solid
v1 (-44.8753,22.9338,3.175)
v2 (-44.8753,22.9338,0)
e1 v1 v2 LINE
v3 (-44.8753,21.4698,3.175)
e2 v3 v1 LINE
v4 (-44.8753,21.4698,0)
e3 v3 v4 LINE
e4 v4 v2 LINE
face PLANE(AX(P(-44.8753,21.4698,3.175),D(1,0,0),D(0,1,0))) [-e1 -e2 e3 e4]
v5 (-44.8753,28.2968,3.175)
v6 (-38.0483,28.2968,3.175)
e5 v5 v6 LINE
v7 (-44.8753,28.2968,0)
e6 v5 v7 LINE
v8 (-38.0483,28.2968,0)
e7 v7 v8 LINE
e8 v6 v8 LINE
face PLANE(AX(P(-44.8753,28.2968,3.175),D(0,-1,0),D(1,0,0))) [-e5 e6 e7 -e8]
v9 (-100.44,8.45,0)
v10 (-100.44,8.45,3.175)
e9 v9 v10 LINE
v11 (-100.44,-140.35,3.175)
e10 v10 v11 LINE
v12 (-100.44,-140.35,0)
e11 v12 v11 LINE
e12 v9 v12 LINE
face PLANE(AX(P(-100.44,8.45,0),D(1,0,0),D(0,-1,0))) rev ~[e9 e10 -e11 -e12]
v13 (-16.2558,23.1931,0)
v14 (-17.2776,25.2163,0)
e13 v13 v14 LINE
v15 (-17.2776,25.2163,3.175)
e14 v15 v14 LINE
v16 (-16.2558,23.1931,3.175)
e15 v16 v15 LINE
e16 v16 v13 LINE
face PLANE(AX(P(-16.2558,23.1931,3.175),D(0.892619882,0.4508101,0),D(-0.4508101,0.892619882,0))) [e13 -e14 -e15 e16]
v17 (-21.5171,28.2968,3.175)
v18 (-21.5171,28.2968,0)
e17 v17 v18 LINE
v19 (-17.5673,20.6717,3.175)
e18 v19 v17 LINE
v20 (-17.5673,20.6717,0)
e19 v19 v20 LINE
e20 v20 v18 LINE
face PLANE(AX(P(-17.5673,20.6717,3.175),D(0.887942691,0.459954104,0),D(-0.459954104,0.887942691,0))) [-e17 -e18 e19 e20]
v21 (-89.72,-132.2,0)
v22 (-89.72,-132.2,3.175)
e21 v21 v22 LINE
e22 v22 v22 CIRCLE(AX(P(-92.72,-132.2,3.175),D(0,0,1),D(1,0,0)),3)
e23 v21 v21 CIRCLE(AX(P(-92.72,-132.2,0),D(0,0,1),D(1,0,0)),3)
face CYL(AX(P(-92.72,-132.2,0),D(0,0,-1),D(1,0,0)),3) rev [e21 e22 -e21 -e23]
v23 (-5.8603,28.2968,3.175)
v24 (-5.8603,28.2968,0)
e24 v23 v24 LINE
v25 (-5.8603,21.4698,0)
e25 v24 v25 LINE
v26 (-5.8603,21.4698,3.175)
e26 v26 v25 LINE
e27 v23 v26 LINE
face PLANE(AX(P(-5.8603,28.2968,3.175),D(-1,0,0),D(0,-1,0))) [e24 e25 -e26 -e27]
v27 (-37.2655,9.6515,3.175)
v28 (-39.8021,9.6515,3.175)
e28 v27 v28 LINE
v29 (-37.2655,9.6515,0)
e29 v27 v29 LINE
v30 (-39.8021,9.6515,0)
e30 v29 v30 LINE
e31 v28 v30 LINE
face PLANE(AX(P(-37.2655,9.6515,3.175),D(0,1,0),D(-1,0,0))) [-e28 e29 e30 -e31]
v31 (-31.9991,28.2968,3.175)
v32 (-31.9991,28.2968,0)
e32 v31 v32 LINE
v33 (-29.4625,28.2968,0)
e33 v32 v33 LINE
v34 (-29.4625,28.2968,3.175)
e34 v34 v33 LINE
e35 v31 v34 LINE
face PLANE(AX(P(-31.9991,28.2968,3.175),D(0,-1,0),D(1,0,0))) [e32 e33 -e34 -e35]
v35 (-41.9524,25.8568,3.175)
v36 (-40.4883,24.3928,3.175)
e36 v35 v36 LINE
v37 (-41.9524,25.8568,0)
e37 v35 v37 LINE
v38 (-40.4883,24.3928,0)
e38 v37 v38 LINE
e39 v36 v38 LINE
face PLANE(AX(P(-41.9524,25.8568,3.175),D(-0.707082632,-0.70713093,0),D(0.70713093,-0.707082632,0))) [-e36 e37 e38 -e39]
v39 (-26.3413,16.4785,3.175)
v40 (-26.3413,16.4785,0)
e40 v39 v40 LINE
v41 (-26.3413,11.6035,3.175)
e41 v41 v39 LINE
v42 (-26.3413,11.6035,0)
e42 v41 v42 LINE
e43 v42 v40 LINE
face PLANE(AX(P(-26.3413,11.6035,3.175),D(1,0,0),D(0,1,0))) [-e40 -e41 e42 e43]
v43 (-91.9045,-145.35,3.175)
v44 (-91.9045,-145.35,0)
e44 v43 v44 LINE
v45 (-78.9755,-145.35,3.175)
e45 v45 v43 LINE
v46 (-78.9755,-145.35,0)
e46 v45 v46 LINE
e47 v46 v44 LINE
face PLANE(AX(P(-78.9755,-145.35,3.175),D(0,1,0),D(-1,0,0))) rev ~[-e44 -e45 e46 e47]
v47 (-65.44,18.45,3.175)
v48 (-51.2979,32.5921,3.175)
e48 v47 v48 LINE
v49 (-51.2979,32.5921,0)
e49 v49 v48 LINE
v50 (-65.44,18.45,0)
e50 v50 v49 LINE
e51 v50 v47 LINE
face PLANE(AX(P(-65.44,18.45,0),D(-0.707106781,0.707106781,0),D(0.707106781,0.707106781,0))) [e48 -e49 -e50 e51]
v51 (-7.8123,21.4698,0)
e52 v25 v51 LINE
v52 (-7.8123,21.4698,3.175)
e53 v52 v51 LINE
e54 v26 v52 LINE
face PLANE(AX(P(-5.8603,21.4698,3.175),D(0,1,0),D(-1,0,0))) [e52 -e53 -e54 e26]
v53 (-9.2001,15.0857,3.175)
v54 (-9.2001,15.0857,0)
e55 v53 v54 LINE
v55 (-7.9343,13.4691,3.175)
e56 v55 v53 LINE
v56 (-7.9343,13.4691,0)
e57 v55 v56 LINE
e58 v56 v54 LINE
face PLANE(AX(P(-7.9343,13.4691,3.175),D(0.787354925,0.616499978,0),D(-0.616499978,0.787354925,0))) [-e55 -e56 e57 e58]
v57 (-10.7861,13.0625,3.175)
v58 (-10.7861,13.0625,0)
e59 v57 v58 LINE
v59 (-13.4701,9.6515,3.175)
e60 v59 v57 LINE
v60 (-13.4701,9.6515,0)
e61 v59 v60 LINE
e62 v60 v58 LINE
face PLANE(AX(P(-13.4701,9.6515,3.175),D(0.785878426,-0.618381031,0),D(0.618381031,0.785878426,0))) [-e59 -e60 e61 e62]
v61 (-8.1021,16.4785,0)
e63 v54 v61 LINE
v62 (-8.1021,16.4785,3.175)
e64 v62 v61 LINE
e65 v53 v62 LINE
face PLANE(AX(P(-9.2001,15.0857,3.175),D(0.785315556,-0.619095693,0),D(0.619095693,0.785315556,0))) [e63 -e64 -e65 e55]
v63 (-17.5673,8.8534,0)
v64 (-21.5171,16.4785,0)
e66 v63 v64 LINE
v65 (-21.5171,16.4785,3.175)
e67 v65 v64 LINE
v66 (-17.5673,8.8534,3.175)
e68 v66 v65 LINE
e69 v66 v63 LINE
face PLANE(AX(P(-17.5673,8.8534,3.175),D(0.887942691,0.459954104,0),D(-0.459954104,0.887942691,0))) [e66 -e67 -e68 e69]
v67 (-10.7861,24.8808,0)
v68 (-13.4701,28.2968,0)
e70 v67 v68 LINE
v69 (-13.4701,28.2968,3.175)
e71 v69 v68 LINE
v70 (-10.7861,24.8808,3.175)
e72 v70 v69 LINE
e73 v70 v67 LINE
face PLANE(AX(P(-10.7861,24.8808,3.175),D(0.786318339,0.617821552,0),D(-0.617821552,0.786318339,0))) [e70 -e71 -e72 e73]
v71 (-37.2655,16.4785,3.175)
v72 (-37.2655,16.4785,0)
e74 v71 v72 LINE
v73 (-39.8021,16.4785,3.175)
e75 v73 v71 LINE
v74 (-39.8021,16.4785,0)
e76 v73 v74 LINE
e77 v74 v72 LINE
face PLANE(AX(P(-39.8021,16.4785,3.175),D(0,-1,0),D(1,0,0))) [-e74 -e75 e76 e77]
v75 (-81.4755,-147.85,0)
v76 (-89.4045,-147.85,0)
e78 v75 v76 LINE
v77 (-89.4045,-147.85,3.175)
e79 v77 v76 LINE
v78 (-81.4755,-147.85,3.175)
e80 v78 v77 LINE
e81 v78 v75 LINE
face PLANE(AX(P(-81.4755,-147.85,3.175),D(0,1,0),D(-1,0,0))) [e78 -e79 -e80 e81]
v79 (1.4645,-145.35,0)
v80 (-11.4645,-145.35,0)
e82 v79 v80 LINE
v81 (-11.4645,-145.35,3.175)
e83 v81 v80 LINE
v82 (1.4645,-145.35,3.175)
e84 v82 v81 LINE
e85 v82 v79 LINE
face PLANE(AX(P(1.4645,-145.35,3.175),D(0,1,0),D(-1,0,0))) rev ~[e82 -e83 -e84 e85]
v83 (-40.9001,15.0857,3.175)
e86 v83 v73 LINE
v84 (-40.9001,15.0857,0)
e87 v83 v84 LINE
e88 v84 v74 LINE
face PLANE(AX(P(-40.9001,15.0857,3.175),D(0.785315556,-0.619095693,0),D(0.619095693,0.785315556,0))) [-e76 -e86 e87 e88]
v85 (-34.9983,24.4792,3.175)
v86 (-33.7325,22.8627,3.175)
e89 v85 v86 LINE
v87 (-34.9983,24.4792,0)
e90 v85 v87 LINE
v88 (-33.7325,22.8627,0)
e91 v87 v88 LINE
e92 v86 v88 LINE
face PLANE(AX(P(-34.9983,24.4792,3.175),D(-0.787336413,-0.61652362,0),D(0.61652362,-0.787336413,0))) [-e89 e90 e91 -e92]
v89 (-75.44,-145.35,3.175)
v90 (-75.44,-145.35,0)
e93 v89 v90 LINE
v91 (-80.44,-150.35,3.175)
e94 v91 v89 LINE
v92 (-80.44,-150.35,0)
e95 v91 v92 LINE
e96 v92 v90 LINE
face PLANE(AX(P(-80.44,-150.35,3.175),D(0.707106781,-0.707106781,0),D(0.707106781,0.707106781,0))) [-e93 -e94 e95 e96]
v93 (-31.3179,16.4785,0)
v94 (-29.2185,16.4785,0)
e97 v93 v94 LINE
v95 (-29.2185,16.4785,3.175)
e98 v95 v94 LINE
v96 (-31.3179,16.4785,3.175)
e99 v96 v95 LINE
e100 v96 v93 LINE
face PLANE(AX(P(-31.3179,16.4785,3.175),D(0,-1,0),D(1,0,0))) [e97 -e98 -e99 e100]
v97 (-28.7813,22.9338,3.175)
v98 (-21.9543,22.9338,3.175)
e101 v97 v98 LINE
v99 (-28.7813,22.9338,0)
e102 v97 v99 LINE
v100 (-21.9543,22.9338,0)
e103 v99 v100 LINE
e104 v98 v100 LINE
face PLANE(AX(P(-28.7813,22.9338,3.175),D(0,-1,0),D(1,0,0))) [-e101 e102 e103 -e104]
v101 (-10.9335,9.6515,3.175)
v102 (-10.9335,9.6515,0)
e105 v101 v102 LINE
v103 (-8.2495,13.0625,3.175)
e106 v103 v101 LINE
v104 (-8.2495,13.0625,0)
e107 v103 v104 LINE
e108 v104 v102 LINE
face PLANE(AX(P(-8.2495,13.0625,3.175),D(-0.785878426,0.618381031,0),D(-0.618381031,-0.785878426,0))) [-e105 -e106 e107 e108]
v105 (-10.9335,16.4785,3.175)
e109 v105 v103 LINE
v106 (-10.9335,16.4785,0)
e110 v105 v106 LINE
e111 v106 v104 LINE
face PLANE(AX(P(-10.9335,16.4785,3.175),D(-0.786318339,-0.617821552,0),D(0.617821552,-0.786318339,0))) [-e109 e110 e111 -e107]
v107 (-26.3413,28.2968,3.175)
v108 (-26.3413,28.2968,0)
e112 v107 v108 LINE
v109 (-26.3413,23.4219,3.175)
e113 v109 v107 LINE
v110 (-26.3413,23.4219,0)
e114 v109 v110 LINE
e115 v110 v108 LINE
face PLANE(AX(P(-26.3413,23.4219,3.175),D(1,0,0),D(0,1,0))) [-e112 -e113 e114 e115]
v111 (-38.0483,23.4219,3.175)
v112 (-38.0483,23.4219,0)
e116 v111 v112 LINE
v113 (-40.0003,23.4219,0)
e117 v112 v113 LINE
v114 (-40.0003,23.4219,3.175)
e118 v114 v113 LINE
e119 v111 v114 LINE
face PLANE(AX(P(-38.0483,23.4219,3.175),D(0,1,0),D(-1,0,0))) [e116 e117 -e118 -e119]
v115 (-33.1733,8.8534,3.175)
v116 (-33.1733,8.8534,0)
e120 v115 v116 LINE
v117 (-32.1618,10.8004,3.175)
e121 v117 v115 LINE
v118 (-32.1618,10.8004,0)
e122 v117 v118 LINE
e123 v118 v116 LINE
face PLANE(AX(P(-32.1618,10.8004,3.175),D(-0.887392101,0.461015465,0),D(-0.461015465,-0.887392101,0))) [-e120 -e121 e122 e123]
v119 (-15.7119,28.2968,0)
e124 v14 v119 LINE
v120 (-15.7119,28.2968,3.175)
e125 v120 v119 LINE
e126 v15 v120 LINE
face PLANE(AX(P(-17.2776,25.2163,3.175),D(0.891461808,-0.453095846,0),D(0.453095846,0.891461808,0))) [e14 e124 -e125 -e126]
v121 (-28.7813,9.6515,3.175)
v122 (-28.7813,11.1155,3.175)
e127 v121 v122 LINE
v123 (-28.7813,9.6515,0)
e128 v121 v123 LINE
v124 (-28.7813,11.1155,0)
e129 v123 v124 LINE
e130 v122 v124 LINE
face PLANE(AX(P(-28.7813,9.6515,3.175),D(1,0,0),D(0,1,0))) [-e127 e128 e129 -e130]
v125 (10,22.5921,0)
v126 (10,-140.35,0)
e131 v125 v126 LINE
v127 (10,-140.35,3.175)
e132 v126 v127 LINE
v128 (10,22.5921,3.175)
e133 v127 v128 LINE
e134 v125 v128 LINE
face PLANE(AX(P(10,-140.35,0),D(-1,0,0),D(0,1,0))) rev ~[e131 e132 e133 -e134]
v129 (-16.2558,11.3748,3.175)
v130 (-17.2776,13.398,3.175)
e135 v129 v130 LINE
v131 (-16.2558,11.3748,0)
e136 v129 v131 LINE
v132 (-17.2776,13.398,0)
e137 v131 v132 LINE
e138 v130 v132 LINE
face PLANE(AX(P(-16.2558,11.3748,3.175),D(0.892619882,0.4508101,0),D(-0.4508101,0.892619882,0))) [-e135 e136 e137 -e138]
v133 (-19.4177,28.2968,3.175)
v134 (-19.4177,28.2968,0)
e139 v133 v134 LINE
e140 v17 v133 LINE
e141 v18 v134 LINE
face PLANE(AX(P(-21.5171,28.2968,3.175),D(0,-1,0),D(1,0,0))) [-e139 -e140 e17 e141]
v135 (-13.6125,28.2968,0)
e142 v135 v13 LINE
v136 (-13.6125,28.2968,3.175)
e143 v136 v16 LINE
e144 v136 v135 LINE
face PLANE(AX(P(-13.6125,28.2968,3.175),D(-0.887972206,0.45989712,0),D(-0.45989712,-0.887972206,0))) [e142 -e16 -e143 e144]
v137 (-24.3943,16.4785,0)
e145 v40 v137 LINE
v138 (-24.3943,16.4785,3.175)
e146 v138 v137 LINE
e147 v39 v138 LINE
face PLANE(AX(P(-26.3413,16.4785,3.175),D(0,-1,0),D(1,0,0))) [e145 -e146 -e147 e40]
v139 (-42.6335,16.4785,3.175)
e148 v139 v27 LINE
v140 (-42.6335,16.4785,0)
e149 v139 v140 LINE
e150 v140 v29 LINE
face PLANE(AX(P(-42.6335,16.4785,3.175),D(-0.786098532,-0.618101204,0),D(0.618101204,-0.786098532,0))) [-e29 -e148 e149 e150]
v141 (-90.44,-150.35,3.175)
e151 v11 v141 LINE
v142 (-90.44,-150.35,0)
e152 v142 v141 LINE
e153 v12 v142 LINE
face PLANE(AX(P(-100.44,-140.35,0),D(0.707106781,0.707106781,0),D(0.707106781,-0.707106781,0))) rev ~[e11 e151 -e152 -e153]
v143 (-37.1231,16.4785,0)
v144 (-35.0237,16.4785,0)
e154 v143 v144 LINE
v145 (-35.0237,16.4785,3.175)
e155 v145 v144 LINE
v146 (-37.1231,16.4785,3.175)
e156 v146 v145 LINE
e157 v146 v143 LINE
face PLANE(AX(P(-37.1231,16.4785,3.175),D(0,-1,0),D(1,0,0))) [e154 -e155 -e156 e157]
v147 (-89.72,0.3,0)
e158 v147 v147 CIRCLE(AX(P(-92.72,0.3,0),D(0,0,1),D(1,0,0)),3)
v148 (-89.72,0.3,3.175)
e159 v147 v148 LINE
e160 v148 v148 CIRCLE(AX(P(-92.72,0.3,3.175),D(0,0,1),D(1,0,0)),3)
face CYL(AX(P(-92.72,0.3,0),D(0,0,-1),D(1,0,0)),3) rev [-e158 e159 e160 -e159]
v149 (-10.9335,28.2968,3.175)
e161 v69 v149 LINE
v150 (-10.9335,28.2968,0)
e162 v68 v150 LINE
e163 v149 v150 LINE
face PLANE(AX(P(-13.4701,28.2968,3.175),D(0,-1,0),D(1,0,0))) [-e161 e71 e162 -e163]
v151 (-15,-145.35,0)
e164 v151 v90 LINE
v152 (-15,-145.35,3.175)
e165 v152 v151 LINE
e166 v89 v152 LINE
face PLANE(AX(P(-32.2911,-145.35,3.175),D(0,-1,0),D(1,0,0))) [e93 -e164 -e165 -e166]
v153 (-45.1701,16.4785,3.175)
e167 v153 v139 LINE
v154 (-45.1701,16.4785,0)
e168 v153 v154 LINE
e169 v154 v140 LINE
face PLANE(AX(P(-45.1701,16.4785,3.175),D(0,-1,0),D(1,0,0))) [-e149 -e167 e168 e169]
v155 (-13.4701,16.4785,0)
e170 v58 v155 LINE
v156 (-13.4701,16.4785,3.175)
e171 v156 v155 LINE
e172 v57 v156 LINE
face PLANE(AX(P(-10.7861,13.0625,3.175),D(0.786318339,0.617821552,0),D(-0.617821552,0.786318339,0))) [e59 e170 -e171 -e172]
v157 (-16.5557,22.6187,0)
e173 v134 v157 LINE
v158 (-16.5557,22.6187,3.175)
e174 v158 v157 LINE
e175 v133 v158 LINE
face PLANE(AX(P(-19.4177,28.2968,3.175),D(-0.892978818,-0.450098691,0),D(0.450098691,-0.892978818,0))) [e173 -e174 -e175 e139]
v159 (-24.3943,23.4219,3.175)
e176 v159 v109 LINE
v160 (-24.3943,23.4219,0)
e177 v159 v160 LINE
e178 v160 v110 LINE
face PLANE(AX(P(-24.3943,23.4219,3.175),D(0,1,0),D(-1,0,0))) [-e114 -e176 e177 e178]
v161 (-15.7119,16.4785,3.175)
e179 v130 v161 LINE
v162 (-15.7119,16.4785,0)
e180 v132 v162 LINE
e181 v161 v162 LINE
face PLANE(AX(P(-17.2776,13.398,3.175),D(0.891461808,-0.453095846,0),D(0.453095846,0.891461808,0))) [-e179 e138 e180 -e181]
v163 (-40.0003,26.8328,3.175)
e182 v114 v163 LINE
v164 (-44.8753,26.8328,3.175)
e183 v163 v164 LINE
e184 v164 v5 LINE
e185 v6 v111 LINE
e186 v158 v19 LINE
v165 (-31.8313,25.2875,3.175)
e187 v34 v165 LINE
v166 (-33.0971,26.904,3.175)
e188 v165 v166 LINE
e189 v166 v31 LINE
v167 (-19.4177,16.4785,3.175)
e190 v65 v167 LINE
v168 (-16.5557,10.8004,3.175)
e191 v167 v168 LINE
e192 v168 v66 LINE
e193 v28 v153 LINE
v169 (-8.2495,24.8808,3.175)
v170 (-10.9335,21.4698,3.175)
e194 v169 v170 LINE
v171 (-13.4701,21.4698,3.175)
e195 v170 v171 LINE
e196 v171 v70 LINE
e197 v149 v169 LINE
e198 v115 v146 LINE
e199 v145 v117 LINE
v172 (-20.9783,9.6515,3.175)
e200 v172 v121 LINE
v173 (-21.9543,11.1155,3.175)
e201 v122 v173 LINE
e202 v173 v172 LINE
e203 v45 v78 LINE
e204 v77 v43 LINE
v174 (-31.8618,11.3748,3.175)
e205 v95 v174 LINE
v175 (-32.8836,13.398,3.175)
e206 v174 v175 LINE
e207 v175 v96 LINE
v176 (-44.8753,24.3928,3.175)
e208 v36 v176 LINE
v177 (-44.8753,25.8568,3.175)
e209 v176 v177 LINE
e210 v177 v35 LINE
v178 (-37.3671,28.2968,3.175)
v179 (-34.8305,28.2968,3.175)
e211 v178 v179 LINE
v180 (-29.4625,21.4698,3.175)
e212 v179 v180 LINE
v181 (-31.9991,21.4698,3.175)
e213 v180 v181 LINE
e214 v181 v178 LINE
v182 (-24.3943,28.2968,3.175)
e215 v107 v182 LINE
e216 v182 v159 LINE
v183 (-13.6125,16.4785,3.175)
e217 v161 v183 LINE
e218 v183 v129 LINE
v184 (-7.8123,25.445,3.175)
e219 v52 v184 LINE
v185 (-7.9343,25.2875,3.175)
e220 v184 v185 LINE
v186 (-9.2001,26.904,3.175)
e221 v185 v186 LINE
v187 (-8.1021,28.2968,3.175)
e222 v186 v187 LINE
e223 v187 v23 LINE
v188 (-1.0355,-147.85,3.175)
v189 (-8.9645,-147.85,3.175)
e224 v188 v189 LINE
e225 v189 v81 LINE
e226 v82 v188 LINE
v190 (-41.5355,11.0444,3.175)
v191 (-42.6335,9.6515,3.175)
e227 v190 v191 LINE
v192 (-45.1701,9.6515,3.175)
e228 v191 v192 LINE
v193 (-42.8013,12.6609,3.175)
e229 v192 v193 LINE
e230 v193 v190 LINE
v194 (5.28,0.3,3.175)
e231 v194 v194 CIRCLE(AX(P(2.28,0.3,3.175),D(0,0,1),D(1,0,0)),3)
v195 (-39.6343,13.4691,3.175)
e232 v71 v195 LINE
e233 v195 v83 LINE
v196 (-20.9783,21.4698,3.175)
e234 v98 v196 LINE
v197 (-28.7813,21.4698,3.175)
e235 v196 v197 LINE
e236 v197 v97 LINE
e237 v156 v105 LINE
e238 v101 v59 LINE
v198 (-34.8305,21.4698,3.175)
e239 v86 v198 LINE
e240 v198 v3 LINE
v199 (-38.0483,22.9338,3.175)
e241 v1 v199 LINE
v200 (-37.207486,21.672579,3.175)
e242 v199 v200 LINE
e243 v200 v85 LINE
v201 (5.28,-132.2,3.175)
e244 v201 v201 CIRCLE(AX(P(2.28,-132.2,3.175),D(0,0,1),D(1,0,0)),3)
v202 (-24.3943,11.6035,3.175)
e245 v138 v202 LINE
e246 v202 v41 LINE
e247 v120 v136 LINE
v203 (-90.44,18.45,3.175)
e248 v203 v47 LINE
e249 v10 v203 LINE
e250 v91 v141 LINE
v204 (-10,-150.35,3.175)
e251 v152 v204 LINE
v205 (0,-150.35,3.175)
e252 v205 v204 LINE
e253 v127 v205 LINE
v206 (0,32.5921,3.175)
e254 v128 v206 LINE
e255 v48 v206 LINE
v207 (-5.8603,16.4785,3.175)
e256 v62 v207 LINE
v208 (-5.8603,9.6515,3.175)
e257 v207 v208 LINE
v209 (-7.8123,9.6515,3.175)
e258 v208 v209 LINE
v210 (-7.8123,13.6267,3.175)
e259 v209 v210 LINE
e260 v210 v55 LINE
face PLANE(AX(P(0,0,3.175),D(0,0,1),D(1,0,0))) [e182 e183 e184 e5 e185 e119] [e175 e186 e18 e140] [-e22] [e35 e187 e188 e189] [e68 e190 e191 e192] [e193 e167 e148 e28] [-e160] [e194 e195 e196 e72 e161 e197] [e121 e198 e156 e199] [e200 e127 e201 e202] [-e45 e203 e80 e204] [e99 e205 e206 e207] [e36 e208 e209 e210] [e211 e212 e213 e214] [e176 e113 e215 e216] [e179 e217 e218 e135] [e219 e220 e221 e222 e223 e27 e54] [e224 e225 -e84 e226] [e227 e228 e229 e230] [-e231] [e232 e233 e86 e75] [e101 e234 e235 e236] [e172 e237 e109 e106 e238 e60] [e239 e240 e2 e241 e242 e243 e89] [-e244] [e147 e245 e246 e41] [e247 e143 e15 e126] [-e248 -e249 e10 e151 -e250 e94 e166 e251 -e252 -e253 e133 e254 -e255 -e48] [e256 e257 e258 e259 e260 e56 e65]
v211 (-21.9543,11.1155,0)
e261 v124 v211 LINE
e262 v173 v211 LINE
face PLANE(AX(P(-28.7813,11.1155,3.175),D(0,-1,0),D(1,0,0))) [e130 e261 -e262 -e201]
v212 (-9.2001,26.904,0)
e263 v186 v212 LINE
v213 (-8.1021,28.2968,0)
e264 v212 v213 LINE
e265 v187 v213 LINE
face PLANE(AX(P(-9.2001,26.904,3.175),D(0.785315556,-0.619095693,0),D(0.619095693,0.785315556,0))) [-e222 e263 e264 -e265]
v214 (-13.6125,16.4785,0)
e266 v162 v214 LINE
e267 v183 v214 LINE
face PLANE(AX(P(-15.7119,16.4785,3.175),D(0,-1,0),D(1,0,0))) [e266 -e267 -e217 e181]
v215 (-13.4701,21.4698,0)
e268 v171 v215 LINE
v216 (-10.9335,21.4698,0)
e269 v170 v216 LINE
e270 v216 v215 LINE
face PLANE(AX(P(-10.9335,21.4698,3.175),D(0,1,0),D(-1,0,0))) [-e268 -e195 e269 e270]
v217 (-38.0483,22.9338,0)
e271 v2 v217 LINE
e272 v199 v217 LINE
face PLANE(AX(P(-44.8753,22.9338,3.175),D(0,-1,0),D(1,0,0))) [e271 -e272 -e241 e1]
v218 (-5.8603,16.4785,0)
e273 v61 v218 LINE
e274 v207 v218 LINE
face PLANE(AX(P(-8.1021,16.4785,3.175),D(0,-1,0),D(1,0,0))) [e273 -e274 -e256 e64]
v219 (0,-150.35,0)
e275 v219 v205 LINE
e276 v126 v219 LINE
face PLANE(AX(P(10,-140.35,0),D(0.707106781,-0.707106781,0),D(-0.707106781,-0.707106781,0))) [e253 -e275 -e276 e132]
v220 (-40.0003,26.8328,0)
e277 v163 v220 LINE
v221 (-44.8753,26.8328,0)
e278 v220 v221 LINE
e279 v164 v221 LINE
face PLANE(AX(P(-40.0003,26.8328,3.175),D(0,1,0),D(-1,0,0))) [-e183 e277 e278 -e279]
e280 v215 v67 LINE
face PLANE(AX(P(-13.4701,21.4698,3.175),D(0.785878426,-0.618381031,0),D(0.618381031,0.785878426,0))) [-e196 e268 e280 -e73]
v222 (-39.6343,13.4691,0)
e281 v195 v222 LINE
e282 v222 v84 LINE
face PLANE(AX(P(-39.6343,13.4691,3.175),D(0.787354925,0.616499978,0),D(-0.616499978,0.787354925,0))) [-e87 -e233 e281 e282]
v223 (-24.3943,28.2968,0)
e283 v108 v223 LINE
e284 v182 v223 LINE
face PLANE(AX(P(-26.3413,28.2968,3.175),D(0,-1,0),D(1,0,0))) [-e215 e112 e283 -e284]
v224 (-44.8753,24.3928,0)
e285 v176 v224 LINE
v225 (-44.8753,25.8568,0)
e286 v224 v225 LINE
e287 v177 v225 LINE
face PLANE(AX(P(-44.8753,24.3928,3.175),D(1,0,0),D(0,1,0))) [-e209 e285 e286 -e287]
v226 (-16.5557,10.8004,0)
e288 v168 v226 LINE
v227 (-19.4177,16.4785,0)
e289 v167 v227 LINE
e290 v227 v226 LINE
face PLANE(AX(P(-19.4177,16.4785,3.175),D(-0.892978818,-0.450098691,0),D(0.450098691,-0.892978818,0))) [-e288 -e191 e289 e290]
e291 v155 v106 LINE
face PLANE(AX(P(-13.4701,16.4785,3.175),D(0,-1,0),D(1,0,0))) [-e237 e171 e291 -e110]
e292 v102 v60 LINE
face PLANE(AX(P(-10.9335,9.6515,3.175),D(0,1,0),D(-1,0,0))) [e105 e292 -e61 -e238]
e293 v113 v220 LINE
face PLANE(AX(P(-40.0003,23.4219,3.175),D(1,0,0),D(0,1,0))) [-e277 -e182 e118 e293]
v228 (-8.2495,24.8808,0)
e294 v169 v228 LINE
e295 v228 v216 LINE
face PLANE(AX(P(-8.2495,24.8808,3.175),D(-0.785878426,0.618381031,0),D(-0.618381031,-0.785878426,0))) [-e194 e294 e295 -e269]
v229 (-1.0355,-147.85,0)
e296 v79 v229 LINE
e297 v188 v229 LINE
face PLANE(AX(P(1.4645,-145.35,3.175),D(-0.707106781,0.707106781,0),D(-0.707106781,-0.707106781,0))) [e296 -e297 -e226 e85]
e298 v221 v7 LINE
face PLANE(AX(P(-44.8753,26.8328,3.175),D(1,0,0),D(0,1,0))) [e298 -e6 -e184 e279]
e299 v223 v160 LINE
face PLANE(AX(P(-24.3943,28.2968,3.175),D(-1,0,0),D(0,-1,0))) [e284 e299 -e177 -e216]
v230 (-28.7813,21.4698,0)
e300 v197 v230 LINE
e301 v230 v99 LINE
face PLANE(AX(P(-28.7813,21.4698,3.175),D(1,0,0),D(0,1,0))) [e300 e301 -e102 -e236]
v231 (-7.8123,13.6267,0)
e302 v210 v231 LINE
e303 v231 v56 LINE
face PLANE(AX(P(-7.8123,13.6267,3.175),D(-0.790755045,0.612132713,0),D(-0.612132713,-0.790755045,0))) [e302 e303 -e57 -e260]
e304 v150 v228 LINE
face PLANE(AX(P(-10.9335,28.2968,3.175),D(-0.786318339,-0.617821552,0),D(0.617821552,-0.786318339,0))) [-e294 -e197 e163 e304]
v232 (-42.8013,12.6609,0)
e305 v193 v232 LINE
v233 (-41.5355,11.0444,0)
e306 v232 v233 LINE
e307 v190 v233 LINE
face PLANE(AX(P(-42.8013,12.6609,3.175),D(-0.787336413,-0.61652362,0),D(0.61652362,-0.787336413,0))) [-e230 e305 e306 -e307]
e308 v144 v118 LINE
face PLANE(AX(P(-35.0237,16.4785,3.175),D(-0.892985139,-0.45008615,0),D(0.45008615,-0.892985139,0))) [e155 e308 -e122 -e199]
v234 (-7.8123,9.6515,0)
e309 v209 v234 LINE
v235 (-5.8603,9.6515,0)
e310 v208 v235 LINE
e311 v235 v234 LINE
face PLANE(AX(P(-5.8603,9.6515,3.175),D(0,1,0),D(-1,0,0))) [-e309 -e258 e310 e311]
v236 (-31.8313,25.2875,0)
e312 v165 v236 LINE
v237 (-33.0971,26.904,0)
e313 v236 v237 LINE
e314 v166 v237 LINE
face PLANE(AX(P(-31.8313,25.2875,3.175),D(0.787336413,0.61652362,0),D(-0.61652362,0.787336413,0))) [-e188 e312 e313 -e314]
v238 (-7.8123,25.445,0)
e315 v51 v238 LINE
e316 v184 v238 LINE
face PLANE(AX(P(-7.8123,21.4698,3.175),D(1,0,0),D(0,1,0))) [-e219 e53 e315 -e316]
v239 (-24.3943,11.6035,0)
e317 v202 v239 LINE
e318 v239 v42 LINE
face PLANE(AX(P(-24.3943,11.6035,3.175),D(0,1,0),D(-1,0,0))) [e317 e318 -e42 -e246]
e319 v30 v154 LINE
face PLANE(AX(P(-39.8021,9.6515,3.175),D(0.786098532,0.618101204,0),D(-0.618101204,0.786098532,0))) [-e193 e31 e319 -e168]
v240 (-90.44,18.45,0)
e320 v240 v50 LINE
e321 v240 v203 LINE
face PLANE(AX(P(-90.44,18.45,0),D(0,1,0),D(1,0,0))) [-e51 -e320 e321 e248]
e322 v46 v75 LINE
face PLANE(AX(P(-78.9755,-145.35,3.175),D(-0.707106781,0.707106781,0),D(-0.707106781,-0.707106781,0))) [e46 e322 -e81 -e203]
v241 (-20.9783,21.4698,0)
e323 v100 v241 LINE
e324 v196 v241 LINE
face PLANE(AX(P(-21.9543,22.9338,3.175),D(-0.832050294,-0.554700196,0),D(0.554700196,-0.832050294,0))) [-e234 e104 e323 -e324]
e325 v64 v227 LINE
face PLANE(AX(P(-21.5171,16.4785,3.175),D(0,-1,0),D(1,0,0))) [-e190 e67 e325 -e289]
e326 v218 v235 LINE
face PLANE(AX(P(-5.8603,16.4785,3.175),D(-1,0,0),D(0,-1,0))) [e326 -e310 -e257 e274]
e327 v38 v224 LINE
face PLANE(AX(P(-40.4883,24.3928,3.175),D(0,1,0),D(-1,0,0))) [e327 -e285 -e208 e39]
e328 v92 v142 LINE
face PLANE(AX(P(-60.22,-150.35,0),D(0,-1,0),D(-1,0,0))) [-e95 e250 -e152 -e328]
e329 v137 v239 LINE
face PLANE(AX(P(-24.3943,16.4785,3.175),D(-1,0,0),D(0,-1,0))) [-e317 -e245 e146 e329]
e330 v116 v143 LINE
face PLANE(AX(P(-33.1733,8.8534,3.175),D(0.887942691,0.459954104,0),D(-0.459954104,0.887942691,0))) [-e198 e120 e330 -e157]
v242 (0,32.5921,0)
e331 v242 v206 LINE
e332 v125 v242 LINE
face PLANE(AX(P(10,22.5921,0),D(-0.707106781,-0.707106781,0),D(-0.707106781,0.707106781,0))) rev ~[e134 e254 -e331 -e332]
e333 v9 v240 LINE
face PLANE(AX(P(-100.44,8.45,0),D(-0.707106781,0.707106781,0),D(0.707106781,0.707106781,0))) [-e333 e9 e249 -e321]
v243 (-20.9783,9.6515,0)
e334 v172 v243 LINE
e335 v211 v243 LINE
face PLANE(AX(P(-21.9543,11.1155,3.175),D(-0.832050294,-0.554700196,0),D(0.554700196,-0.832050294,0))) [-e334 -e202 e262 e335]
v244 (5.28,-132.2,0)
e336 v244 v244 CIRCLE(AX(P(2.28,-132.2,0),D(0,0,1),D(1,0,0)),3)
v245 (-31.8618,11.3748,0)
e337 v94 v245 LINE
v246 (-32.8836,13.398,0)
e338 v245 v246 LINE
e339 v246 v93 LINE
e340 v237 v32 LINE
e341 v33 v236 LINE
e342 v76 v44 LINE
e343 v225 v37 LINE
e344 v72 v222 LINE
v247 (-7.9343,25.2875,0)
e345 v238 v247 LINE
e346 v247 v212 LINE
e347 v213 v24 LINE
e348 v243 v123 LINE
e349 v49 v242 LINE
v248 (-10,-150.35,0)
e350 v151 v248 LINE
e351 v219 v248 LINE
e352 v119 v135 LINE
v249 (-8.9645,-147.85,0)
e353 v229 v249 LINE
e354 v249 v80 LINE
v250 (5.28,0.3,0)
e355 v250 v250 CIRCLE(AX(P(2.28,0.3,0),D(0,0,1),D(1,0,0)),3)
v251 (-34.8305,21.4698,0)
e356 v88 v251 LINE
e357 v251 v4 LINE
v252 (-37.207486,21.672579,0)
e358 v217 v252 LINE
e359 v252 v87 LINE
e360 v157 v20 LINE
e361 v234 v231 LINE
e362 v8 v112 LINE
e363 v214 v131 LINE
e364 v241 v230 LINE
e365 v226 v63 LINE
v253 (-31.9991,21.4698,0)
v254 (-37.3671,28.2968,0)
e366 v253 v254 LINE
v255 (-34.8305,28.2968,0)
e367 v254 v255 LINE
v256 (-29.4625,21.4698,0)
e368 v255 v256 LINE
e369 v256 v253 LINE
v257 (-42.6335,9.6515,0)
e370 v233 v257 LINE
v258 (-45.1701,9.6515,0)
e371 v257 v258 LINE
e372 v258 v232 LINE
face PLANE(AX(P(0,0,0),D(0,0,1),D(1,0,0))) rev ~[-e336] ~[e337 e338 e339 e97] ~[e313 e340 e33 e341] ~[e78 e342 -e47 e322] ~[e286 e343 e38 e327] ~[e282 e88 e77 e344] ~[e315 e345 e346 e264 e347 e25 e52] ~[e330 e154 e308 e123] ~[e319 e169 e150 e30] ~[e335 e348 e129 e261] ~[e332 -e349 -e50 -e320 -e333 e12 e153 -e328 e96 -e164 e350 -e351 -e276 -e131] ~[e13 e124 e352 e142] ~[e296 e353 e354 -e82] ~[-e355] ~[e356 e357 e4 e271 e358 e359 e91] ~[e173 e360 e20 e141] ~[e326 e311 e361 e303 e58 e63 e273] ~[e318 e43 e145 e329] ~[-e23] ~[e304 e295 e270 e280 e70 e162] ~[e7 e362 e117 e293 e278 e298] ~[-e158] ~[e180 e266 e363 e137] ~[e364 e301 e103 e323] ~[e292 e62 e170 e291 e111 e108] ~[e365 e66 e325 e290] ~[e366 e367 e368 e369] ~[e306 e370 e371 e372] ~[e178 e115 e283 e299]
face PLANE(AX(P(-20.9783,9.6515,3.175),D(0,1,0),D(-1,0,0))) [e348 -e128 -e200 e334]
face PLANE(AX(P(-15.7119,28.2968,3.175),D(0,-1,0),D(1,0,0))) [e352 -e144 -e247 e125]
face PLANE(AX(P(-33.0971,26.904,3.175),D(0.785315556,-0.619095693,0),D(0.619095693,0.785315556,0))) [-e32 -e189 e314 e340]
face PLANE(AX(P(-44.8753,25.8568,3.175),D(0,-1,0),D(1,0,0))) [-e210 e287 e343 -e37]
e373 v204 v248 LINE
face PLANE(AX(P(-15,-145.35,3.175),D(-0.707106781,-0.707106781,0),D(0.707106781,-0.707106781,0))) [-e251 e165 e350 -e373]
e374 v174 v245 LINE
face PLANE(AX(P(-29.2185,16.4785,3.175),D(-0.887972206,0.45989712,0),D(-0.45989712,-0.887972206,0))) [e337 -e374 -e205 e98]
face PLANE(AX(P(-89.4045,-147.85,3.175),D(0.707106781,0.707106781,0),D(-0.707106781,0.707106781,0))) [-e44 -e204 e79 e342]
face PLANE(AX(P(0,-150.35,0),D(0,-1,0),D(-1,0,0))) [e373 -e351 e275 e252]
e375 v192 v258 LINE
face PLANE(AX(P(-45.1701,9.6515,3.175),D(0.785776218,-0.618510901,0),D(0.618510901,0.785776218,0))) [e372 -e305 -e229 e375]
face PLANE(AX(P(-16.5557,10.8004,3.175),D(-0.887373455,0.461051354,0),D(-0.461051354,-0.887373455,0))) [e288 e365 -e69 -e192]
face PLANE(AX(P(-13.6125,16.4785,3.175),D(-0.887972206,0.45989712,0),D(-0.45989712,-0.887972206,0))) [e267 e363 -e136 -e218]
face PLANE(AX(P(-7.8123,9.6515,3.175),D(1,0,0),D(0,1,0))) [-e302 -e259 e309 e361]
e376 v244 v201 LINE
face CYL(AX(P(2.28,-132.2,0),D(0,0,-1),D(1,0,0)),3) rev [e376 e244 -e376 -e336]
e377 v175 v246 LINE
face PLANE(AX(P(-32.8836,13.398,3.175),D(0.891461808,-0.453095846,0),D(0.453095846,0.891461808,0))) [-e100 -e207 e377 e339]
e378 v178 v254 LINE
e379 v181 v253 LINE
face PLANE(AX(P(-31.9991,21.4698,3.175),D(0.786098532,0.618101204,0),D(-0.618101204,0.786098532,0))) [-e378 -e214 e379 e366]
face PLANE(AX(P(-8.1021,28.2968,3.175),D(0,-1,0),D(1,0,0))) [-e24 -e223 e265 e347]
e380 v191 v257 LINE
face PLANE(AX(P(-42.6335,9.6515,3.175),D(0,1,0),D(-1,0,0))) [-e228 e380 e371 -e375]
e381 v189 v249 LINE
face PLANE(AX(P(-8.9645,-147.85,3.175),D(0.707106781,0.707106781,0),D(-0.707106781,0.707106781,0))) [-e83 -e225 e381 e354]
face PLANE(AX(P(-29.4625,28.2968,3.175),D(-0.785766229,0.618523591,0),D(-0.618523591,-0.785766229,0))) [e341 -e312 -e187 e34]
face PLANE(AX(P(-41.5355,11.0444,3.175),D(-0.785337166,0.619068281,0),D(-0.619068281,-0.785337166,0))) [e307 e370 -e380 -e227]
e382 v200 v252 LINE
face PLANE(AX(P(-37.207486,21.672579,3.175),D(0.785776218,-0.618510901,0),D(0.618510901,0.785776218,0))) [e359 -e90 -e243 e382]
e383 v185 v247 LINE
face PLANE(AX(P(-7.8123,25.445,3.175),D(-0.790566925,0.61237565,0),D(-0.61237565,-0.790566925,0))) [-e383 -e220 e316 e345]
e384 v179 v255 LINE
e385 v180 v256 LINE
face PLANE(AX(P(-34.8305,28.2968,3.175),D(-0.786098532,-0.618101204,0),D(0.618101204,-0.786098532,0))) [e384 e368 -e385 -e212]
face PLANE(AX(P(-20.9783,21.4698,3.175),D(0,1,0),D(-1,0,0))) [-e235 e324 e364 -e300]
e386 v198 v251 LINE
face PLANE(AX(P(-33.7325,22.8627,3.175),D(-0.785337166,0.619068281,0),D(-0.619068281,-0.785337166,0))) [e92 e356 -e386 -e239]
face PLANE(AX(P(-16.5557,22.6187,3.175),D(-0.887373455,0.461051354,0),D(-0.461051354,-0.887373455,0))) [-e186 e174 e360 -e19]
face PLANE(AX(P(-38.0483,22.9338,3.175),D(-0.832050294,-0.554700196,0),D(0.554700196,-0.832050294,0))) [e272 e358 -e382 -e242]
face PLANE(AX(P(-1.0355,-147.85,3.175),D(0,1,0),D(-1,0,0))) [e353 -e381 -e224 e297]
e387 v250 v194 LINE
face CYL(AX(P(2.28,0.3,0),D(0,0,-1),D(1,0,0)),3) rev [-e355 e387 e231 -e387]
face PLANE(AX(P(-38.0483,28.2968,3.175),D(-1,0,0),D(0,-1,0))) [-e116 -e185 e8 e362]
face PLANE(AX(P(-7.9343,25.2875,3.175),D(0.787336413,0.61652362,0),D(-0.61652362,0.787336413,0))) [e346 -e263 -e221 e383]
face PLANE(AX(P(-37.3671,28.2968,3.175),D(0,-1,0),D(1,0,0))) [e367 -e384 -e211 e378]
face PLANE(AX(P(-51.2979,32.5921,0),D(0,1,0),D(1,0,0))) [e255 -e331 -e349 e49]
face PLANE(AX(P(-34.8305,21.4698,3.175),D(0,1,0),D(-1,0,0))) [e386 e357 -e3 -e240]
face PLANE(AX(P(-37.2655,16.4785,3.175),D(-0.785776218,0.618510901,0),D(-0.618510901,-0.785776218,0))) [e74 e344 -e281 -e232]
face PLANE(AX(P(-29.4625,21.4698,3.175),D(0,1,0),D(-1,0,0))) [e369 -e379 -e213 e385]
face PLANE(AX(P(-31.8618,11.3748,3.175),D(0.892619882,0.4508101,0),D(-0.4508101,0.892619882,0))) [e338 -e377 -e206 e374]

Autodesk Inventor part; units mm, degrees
ref_plane "YZ Plane" through (0, 0, 0) normal (1, 0, 0) x (0, 1, 0)
ref_plane "XZ Plane" through (0, 0, 0) normal (0, 1, 0) x (-1, 0, 0)
ref_plane "XY Plane" through (0, 0, 0) normal (0, 0, 1) x (1, 0, 0)
sketch "Sketch1" plane through (0, 0, 0) normal (0, 0, 1) x (1, 0, 0)
  line L0 (5, -135.35) -> (-95.44, -135.35) construction
  line L1 (-95.44, -135.35) -> (-95.44, 3.45) construction
  line L2 (-95.44, 3.45) -> (5, 3.45) construction
  line L3 (5, 3.45) -> (5, -135.35) construction
  line L4 (-100.44, -140.35) -> (10, -140.35)
  line L5 (10, -140.35) -> (10, 8.45)
  line L6 (10, 8.45) -> (-100.44, 8.45)
  line L7 (-100.44, 8.45) -> (-100.44, -140.35)
  circle A0 centre (2.28, -132.2) radius 1.5 projected
  circle A1 centre (-92.72, -132.2) radius 1.5 projected
  circle A2 centre (-92.72, 0.3) radius 1.5 projected
  circle A3 centre (2.28, 0.3) radius 1.5 projected
  circle A4 centre (2.28, -132.2) radius 3
  circle A5 centre (-92.72, -132.2) radius 3
  circle A6 centre (2.28, 0.3) radius 3
  circle A7 centre (-92.72, 0.3) radius 3
  line L8 (-100.44, -140.35) -> (-90.44, -150.35)
  line L9 (-100.44, -140.35) -> (-86.2979, -140.35) construction
  line L10 (-45.22, -140.35) -> (-45.22, -155.35) construction
  line L11 (-90.44, -150.35) -> (10, -150.35) construction
  line L12 (10, -140.35) -> (0, -150.35)
  line L13 (-55.22, -145.35) -> (-35.22, -145.35) construction
  line L14 (-35.22, -145.35) -> (-35.22, -155.35) construction
  line L15 (-35.22, -155.35) -> (-55.22, -155.35)
  line L16 (-55.22, -155.35) -> (-55.22, -145.35) construction
  line L17 (-55.22, -145.35) -> (-35.22, -155.35) construction
  line L18 (-35.22, -145.35) -> (-55.22, -155.35) construction
  line L19 (-55.22, -155.35) -> (-60.22, -150.35)
  line L20 (-35.22, -155.35) -> (-30.22, -150.35)
  line L21 (0, -150.35) -> (-30.22, -150.35)
  line L22 (-60.22, -150.35) -> (-90.44, -150.35)
  line L23 (-96.9045, -136.8145) -> (-88.3689, -145.35) construction
  line L24 (-88.3689, -145.35) -> (-58.1489, -145.35) construction
  line L25 (-58.1489, -145.35) -> (-53.1489, -150.35)
  line L26 (-53.1489, -150.35) -> (-37.2911, -150.35)
  line L27 (-37.2911, -150.35) -> (-32.2911, -145.35)
  line L28 (-32.2911, -145.35) -> (0, -145.35) construction
  line L29 (-32.2911, -145.35) -> (-58.1489, -145.35)
  line L30 (-100.44, 8.45) -> (-90.44, 18.45)
  line L31 (10, 8.45) -> (10, 22.5921)
  line L32 (-90.44, 18.45) -> (-65.44, 18.45)
  line L33 (-65.44, 18.45) -> (-51.2979, 32.5921)
  line L34 (-51.2979, 32.5921) -> (0, 32.5921)
  line L35 (10, 22.5921) -> (0, 32.5921)
  point P0 (0, 0)
  point P1 (-45.22, -150.35)
  point P2 (10, 32.5921)
  dimension "d0" = 5
  dimension "d3" = 6
  dimension "d4" = 6
  dimension "d5" = 6
  dimension "d6" = 6
  dimension "d7" = 14.1421
  dimension "d8" = 45
  dimension "d9" = 15
  dimension "d10" = 45
  dimension "d11" = 20
  dimension "d12" = 10
  dimension "d13" = 45
  dimension "d14" = 45
  dimension "d15" = 5
  dimension "d16" = 45
  dimension "d17" = 10
  dimension "d18" = 25
  dimension "d20" = 135
  dimension "d21" = 14.1421
  dimension "d22" = 10
  dimension "d23" = 10
extrude "Extrusion1" add sketch "Sketch1" along normal blind 3.175 contours L7 L6 L5 L4 | L4 L12 L21 L20 L15 L19 L22 L8 | L30 L32 L33 L34 L35 L31 L6
sketch "Sketch3" plane through (0, 0, 3.175) normal (0, 0, 1) x (1, 0, 0)
  line L0 (5, 3.45) -> (-95.44, 3.45) construction
  line L1 (9.504, 4.7542) -> (-60.2396, 4.7542) construction
  line L2 (-60.2396, 4.7542) -> (-60.2396, 32.396) construction
  line L3 (-60.2396, 32.396) -> (9.504, 32.396) construction
  line L4 (9.504, 32.396) -> (9.504, 4.7542) construction
  line L5 (-10.7861, 13.0625) -> (-13.4701, 16.4785)
  line L6 (-13.4701, 16.4785) -> (-10.9335, 16.4785)
  line L7 (-10.9335, 16.4785) -> (-8.2495, 13.0625)
  line L8 (-8.2495, 13.0625) -> (-10.9335, 9.6515)
  line L9 (-10.9335, 9.6515) -> (-13.4701, 9.6515)
  line L10 (-13.4701, 9.6515) -> (-10.7861, 13.0625)
  line L11 (-5.8603, 9.6515) -> (-7.8123, 9.6515)
  line L12 (-7.8123, 9.6515) -> (-7.8123, 13.6267)
  line L13 (-7.8123, 13.6267) -> (-7.9343, 13.4691)
  line L14 (-7.9343, 13.4691) -> (-9.2001, 15.0857)
  line L15 (-9.2001, 15.0857) -> (-8.1021, 16.4785)
  line L16 (-8.1021, 16.4785) -> (-5.8603, 16.4785)
  line L17 (-5.8603, 16.4785) -> (-5.8603, 9.6515)
  line L18 (-16.5557, 10.8004) -> (-17.5673, 8.8534)
  line L19 (-17.5673, 8.8534) -> (-21.5171, 16.4785)
  line L20 (-21.5171, 16.4785) -> (-19.4177, 16.4785)
  line L21 (-19.4177, 16.4785) -> (-16.5557, 10.8004)
  line L22 (-17.2776, 13.398) -> (-15.7119, 16.4785)
  line L23 (-15.7119, 16.4785) -> (-13.6125, 16.4785)
  line L24 (-13.6125, 16.4785) -> (-16.2558, 11.3748)
  line L25 (-16.2558, 11.3748) -> (-17.2776, 13.398)
  line L26 (-28.7813, 11.1155) -> (-21.9543, 11.1155)
  line L27 (-21.9543, 11.1155) -> (-20.9783, 9.6515)
  line L28 (-20.9783, 9.6515) -> (-28.7813, 9.6515)
  line L29 (-28.7813, 9.6515) -> (-28.7813, 11.1155)
  line L30 (-24.3943, 11.6035) -> (-26.3413, 11.6035)
  line L31 (-26.3413, 11.6035) -> (-26.3413, 16.4785)
  line L32 (-26.3413, 16.4785) -> (-24.3943, 16.4785)
  line L33 (-24.3943, 16.4785) -> (-24.3943, 11.6035)
  line L34 (-32.1618, 10.8004) -> (-33.1733, 8.8534)
  line L35 (-33.1733, 8.8534) -> (-37.1231, 16.4785)
  line L36 (-37.1231, 16.4785) -> (-35.0237, 16.4785)
  line L37 (-35.0237, 16.4785) -> (-32.1618, 10.8004)
  line L38 (-32.8836, 13.398) -> (-31.3179, 16.4785)
  line L39 (-31.3179, 16.4785) -> (-29.2185, 16.4785)
  line L40 (-29.2185, 16.4785) -> (-31.8618, 11.3748)
  line L41 (-31.8618, 11.3748) -> (-32.8836, 13.398)
  line L42 (-45.1701, 16.4785) -> (-42.6335, 16.4785)
  line L43 (-42.6335, 16.4785) -> (-37.2655, 9.6515)
  line L44 (-37.2655, 9.6515) -> (-39.8021, 9.6515)
  line L45 (-39.8021, 9.6515) -> (-45.1701, 16.4785)
  line L46 (-40.9001, 15.0857) -> (-39.8021, 16.4785)
  line L47 (-39.8021, 16.4785) -> (-37.2655, 16.4785)
  line L48 (-37.2655, 16.4785) -> (-39.6343, 13.4691)
  line L49 (-39.6343, 13.4691) -> (-40.9001, 15.0857)
  line L50 (-41.5355, 11.0444) -> (-42.6335, 9.6515)
  line L51 (-42.6335, 9.6515) -> (-45.1701, 9.6515)
  line L52 (-45.1701, 9.6515) -> (-42.8013, 12.6609)
  line L53 (-42.8013, 12.6609) -> (-41.5355, 11.0444)
  line L54 (-10.7861, 24.8808) -> (-13.4701, 28.2968)
  line L55 (-13.4701, 28.2968) -> (-10.9335, 28.2968)
  line L56 (-10.9335, 28.2968) -> (-8.2495, 24.8808)
  line L57 (-8.2495, 24.8808) -> (-10.9335, 21.4698)
  line L58 (-10.9335, 21.4698) -> (-13.4701, 21.4698)
  line L59 (-13.4701, 21.4698) -> (-10.7861, 24.8808)
  line L60 (-5.8603, 21.4698) -> (-7.8123, 21.4698)
  line L61 (-7.8123, 21.4698) -> (-7.8123, 25.445)
  line L62 (-7.8123, 25.445) -> (-7.9343, 25.2875)
  line L63 (-7.9343, 25.2875) -> (-9.2001, 26.904)
  line L64 (-9.2001, 26.904) -> (-8.1021, 28.2968)
  line L65 (-8.1021, 28.2968) -> (-5.8603, 28.2968)
  line L66 (-5.8603, 28.2968) -> (-5.8603, 21.4698)
  line L67 (-16.5557, 22.6187) -> (-17.5673, 20.6717)
  line L68 (-17.5673, 20.6717) -> (-21.5171, 28.2968)
  line L69 (-21.5171, 28.2968) -> (-19.4177, 28.2968)
  line L70 (-19.4177, 28.2968) -> (-16.5557, 22.6187)
  line L71 (-17.2776, 25.2163) -> (-15.7119, 28.2968)
  line L72 (-15.7119, 28.2968) -> (-13.6125, 28.2968)
  line L73 (-13.6125, 28.2968) -> (-16.2558, 23.1931)
  line L74 (-16.2558, 23.1931) -> (-17.2776, 25.2163)
  line L75 (-28.7813, 22.9338) -> (-21.9543, 22.9338)
  line L76 (-21.9543, 22.9338) -> (-20.9783, 21.4698)
  line L77 (-20.9783, 21.4698) -> (-28.7813, 21.4698)
  line L78 (-28.7813, 21.4698) -> (-28.7813, 22.9338)
  line L79 (-24.3943, 23.4219) -> (-26.3413, 23.4219)
  line L80 (-26.3413, 23.4219) -> (-26.3413, 28.2968)
  line L81 (-26.3413, 28.2968) -> (-24.3943, 28.2968)
  line L82 (-24.3943, 28.2968) -> (-24.3943, 23.4219)
  line L83 (-37.3671, 28.2968) -> (-34.8305, 28.2968)
  line L84 (-34.8305, 28.2968) -> (-29.4625, 21.4698)
  line L85 (-29.4625, 21.4698) -> (-31.9991, 21.4698)
  line L86 (-31.9991, 21.4698) -> (-37.3671, 28.2968)
  line L87 (-33.7325, 22.8627) -> (-34.8305, 21.4698)
  line L88 (-34.8305, 21.4698) -> (-37.3671, 21.4698)
  line L89 (-37.3671, 21.4698) -> (-34.9983, 24.4792)
  line L90 (-34.9983, 24.4792) -> (-33.7325, 22.8627)
  line L91 (-33.0971, 26.904) -> (-31.9991, 28.2968)
  line L92 (-31.9991, 28.2968) -> (-29.4625, 28.2968)
  line L93 (-29.4625, 28.2968) -> (-31.8313, 25.2875)
  line L94 (-31.8313, 25.2875) -> (-33.0971, 26.904)
  line L95 (-38.0483, 23.4219) -> (-40.0003, 23.4219)
  line L96 (-40.0003, 23.4219) -> (-40.0003, 26.8328)
  line L97 (-40.0003, 26.8328) -> (-44.8753, 26.8328)
  line L98 (-44.8753, 26.8328) -> (-44.8753, 28.2968)
  line L99 (-44.8753, 28.2968) -> (-38.0483, 28.2968)
  line L100 (-38.0483, 28.2968) -> (-38.0483, 23.4219)
  line L101 (-44.8753, 22.9338) -> (-38.0483, 22.9338)
  line L102 (-38.0483, 22.9338) -> (-37.0723, 21.4698)
  line L103 (-37.0723, 21.4698) -> (-44.8753, 21.4698)
  line L104 (-44.8753, 21.4698) -> (-44.8753, 22.9338)
  line L105 (-44.8753, 25.8568) -> (-41.9524, 25.8568)
  line L106 (-41.9524, 25.8568) -> (-40.4883, 24.3928)
  line L107 (-40.4883, 24.3928) -> (-44.8753, 24.3928)
  line L108 (-44.8753, 24.3928) -> (-44.8753, 25.8568)
  point P0 (0, 0)
extrude "Extrusion2" cut sketch "Sketch3" against normal blind 10
sketch "Sketch7" plane through (0, 0, 3.175) normal (0, 0, 1) x (1, 0, 0)
  line L0 (-35.22, -155.35) -> (-25.22, -145.35) projected
  line L1 (-55.22, -155.35) -> (-35.22, -155.35) projected
  line L2 (-65.22, -145.35) -> (-55.22, -155.35) projected
  line L3 (-53.1489, -150.35) -> (-58.1489, -145.35) projected
  line L4 (-37.2911, -150.35) -> (-53.1489, -150.35) projected
  line L5 (-32.2911, -145.35) -> (-37.2911, -150.35) projected
  line L6 (-58.1489, -145.35) -> (-32.2911, -145.35) projected
  line L7 (-32.2911, -145.35) -> (-25.22, -145.35) projected
  line L8 (-65.22, -145.35) -> (-58.1489, -145.35) projected
  line L9 (-65.22, -145.35) -> (-75.44, -145.35) projected
  line L10 (-80.44, -150.35) -> (-75.44, -145.35) projected
  line L11 (-90.44, -150.35) -> (-60.22, -150.35) projected
  line L12 (-15, -145.35) -> (-25.22, -145.35) projected
  line L13 (-15, -145.35) -> (-10, -150.35) projected
  line L14 (-30.22, -150.35) -> (0, -150.35) projected
  line L15 (-1.0355, -147.85) -> (-8.9645, -147.85) projected
  line L16 (-8.9645, -147.85) -> (-11.4645, -145.35) projected
  line L17 (1.4645, -145.35) -> (-11.4645, -145.35) projected
  line L18 (1.4645, -145.35) -> (-1.0355, -147.85) projected
  line L19 (-81.4755, -147.85) -> (-89.4045, -147.85) projected
  line L20 (-78.9755, -145.35) -> (-81.4755, -147.85) projected
  line L21 (-78.9755, -145.35) -> (-91.9045, -145.35) projected
  line L22 (-89.4045, -147.85) -> (-91.9045, -145.35) projected
  point P0 (0, 0)
extrude "Extrusion3" cut sketch "Sketch7" against normal through all contours L1 L2 L8 L3 L4 L5 L7 L0 | L0 L12 L13 L14 | L11 L10 L9 L2 | L15 L16 L17 L18 | L19 L22 L21 L20
equation "\"d5\" = d3"
equation "\"d6\" = d3"
equation "\"d23\" = d22"
properties part number "Acrylic Panel"
